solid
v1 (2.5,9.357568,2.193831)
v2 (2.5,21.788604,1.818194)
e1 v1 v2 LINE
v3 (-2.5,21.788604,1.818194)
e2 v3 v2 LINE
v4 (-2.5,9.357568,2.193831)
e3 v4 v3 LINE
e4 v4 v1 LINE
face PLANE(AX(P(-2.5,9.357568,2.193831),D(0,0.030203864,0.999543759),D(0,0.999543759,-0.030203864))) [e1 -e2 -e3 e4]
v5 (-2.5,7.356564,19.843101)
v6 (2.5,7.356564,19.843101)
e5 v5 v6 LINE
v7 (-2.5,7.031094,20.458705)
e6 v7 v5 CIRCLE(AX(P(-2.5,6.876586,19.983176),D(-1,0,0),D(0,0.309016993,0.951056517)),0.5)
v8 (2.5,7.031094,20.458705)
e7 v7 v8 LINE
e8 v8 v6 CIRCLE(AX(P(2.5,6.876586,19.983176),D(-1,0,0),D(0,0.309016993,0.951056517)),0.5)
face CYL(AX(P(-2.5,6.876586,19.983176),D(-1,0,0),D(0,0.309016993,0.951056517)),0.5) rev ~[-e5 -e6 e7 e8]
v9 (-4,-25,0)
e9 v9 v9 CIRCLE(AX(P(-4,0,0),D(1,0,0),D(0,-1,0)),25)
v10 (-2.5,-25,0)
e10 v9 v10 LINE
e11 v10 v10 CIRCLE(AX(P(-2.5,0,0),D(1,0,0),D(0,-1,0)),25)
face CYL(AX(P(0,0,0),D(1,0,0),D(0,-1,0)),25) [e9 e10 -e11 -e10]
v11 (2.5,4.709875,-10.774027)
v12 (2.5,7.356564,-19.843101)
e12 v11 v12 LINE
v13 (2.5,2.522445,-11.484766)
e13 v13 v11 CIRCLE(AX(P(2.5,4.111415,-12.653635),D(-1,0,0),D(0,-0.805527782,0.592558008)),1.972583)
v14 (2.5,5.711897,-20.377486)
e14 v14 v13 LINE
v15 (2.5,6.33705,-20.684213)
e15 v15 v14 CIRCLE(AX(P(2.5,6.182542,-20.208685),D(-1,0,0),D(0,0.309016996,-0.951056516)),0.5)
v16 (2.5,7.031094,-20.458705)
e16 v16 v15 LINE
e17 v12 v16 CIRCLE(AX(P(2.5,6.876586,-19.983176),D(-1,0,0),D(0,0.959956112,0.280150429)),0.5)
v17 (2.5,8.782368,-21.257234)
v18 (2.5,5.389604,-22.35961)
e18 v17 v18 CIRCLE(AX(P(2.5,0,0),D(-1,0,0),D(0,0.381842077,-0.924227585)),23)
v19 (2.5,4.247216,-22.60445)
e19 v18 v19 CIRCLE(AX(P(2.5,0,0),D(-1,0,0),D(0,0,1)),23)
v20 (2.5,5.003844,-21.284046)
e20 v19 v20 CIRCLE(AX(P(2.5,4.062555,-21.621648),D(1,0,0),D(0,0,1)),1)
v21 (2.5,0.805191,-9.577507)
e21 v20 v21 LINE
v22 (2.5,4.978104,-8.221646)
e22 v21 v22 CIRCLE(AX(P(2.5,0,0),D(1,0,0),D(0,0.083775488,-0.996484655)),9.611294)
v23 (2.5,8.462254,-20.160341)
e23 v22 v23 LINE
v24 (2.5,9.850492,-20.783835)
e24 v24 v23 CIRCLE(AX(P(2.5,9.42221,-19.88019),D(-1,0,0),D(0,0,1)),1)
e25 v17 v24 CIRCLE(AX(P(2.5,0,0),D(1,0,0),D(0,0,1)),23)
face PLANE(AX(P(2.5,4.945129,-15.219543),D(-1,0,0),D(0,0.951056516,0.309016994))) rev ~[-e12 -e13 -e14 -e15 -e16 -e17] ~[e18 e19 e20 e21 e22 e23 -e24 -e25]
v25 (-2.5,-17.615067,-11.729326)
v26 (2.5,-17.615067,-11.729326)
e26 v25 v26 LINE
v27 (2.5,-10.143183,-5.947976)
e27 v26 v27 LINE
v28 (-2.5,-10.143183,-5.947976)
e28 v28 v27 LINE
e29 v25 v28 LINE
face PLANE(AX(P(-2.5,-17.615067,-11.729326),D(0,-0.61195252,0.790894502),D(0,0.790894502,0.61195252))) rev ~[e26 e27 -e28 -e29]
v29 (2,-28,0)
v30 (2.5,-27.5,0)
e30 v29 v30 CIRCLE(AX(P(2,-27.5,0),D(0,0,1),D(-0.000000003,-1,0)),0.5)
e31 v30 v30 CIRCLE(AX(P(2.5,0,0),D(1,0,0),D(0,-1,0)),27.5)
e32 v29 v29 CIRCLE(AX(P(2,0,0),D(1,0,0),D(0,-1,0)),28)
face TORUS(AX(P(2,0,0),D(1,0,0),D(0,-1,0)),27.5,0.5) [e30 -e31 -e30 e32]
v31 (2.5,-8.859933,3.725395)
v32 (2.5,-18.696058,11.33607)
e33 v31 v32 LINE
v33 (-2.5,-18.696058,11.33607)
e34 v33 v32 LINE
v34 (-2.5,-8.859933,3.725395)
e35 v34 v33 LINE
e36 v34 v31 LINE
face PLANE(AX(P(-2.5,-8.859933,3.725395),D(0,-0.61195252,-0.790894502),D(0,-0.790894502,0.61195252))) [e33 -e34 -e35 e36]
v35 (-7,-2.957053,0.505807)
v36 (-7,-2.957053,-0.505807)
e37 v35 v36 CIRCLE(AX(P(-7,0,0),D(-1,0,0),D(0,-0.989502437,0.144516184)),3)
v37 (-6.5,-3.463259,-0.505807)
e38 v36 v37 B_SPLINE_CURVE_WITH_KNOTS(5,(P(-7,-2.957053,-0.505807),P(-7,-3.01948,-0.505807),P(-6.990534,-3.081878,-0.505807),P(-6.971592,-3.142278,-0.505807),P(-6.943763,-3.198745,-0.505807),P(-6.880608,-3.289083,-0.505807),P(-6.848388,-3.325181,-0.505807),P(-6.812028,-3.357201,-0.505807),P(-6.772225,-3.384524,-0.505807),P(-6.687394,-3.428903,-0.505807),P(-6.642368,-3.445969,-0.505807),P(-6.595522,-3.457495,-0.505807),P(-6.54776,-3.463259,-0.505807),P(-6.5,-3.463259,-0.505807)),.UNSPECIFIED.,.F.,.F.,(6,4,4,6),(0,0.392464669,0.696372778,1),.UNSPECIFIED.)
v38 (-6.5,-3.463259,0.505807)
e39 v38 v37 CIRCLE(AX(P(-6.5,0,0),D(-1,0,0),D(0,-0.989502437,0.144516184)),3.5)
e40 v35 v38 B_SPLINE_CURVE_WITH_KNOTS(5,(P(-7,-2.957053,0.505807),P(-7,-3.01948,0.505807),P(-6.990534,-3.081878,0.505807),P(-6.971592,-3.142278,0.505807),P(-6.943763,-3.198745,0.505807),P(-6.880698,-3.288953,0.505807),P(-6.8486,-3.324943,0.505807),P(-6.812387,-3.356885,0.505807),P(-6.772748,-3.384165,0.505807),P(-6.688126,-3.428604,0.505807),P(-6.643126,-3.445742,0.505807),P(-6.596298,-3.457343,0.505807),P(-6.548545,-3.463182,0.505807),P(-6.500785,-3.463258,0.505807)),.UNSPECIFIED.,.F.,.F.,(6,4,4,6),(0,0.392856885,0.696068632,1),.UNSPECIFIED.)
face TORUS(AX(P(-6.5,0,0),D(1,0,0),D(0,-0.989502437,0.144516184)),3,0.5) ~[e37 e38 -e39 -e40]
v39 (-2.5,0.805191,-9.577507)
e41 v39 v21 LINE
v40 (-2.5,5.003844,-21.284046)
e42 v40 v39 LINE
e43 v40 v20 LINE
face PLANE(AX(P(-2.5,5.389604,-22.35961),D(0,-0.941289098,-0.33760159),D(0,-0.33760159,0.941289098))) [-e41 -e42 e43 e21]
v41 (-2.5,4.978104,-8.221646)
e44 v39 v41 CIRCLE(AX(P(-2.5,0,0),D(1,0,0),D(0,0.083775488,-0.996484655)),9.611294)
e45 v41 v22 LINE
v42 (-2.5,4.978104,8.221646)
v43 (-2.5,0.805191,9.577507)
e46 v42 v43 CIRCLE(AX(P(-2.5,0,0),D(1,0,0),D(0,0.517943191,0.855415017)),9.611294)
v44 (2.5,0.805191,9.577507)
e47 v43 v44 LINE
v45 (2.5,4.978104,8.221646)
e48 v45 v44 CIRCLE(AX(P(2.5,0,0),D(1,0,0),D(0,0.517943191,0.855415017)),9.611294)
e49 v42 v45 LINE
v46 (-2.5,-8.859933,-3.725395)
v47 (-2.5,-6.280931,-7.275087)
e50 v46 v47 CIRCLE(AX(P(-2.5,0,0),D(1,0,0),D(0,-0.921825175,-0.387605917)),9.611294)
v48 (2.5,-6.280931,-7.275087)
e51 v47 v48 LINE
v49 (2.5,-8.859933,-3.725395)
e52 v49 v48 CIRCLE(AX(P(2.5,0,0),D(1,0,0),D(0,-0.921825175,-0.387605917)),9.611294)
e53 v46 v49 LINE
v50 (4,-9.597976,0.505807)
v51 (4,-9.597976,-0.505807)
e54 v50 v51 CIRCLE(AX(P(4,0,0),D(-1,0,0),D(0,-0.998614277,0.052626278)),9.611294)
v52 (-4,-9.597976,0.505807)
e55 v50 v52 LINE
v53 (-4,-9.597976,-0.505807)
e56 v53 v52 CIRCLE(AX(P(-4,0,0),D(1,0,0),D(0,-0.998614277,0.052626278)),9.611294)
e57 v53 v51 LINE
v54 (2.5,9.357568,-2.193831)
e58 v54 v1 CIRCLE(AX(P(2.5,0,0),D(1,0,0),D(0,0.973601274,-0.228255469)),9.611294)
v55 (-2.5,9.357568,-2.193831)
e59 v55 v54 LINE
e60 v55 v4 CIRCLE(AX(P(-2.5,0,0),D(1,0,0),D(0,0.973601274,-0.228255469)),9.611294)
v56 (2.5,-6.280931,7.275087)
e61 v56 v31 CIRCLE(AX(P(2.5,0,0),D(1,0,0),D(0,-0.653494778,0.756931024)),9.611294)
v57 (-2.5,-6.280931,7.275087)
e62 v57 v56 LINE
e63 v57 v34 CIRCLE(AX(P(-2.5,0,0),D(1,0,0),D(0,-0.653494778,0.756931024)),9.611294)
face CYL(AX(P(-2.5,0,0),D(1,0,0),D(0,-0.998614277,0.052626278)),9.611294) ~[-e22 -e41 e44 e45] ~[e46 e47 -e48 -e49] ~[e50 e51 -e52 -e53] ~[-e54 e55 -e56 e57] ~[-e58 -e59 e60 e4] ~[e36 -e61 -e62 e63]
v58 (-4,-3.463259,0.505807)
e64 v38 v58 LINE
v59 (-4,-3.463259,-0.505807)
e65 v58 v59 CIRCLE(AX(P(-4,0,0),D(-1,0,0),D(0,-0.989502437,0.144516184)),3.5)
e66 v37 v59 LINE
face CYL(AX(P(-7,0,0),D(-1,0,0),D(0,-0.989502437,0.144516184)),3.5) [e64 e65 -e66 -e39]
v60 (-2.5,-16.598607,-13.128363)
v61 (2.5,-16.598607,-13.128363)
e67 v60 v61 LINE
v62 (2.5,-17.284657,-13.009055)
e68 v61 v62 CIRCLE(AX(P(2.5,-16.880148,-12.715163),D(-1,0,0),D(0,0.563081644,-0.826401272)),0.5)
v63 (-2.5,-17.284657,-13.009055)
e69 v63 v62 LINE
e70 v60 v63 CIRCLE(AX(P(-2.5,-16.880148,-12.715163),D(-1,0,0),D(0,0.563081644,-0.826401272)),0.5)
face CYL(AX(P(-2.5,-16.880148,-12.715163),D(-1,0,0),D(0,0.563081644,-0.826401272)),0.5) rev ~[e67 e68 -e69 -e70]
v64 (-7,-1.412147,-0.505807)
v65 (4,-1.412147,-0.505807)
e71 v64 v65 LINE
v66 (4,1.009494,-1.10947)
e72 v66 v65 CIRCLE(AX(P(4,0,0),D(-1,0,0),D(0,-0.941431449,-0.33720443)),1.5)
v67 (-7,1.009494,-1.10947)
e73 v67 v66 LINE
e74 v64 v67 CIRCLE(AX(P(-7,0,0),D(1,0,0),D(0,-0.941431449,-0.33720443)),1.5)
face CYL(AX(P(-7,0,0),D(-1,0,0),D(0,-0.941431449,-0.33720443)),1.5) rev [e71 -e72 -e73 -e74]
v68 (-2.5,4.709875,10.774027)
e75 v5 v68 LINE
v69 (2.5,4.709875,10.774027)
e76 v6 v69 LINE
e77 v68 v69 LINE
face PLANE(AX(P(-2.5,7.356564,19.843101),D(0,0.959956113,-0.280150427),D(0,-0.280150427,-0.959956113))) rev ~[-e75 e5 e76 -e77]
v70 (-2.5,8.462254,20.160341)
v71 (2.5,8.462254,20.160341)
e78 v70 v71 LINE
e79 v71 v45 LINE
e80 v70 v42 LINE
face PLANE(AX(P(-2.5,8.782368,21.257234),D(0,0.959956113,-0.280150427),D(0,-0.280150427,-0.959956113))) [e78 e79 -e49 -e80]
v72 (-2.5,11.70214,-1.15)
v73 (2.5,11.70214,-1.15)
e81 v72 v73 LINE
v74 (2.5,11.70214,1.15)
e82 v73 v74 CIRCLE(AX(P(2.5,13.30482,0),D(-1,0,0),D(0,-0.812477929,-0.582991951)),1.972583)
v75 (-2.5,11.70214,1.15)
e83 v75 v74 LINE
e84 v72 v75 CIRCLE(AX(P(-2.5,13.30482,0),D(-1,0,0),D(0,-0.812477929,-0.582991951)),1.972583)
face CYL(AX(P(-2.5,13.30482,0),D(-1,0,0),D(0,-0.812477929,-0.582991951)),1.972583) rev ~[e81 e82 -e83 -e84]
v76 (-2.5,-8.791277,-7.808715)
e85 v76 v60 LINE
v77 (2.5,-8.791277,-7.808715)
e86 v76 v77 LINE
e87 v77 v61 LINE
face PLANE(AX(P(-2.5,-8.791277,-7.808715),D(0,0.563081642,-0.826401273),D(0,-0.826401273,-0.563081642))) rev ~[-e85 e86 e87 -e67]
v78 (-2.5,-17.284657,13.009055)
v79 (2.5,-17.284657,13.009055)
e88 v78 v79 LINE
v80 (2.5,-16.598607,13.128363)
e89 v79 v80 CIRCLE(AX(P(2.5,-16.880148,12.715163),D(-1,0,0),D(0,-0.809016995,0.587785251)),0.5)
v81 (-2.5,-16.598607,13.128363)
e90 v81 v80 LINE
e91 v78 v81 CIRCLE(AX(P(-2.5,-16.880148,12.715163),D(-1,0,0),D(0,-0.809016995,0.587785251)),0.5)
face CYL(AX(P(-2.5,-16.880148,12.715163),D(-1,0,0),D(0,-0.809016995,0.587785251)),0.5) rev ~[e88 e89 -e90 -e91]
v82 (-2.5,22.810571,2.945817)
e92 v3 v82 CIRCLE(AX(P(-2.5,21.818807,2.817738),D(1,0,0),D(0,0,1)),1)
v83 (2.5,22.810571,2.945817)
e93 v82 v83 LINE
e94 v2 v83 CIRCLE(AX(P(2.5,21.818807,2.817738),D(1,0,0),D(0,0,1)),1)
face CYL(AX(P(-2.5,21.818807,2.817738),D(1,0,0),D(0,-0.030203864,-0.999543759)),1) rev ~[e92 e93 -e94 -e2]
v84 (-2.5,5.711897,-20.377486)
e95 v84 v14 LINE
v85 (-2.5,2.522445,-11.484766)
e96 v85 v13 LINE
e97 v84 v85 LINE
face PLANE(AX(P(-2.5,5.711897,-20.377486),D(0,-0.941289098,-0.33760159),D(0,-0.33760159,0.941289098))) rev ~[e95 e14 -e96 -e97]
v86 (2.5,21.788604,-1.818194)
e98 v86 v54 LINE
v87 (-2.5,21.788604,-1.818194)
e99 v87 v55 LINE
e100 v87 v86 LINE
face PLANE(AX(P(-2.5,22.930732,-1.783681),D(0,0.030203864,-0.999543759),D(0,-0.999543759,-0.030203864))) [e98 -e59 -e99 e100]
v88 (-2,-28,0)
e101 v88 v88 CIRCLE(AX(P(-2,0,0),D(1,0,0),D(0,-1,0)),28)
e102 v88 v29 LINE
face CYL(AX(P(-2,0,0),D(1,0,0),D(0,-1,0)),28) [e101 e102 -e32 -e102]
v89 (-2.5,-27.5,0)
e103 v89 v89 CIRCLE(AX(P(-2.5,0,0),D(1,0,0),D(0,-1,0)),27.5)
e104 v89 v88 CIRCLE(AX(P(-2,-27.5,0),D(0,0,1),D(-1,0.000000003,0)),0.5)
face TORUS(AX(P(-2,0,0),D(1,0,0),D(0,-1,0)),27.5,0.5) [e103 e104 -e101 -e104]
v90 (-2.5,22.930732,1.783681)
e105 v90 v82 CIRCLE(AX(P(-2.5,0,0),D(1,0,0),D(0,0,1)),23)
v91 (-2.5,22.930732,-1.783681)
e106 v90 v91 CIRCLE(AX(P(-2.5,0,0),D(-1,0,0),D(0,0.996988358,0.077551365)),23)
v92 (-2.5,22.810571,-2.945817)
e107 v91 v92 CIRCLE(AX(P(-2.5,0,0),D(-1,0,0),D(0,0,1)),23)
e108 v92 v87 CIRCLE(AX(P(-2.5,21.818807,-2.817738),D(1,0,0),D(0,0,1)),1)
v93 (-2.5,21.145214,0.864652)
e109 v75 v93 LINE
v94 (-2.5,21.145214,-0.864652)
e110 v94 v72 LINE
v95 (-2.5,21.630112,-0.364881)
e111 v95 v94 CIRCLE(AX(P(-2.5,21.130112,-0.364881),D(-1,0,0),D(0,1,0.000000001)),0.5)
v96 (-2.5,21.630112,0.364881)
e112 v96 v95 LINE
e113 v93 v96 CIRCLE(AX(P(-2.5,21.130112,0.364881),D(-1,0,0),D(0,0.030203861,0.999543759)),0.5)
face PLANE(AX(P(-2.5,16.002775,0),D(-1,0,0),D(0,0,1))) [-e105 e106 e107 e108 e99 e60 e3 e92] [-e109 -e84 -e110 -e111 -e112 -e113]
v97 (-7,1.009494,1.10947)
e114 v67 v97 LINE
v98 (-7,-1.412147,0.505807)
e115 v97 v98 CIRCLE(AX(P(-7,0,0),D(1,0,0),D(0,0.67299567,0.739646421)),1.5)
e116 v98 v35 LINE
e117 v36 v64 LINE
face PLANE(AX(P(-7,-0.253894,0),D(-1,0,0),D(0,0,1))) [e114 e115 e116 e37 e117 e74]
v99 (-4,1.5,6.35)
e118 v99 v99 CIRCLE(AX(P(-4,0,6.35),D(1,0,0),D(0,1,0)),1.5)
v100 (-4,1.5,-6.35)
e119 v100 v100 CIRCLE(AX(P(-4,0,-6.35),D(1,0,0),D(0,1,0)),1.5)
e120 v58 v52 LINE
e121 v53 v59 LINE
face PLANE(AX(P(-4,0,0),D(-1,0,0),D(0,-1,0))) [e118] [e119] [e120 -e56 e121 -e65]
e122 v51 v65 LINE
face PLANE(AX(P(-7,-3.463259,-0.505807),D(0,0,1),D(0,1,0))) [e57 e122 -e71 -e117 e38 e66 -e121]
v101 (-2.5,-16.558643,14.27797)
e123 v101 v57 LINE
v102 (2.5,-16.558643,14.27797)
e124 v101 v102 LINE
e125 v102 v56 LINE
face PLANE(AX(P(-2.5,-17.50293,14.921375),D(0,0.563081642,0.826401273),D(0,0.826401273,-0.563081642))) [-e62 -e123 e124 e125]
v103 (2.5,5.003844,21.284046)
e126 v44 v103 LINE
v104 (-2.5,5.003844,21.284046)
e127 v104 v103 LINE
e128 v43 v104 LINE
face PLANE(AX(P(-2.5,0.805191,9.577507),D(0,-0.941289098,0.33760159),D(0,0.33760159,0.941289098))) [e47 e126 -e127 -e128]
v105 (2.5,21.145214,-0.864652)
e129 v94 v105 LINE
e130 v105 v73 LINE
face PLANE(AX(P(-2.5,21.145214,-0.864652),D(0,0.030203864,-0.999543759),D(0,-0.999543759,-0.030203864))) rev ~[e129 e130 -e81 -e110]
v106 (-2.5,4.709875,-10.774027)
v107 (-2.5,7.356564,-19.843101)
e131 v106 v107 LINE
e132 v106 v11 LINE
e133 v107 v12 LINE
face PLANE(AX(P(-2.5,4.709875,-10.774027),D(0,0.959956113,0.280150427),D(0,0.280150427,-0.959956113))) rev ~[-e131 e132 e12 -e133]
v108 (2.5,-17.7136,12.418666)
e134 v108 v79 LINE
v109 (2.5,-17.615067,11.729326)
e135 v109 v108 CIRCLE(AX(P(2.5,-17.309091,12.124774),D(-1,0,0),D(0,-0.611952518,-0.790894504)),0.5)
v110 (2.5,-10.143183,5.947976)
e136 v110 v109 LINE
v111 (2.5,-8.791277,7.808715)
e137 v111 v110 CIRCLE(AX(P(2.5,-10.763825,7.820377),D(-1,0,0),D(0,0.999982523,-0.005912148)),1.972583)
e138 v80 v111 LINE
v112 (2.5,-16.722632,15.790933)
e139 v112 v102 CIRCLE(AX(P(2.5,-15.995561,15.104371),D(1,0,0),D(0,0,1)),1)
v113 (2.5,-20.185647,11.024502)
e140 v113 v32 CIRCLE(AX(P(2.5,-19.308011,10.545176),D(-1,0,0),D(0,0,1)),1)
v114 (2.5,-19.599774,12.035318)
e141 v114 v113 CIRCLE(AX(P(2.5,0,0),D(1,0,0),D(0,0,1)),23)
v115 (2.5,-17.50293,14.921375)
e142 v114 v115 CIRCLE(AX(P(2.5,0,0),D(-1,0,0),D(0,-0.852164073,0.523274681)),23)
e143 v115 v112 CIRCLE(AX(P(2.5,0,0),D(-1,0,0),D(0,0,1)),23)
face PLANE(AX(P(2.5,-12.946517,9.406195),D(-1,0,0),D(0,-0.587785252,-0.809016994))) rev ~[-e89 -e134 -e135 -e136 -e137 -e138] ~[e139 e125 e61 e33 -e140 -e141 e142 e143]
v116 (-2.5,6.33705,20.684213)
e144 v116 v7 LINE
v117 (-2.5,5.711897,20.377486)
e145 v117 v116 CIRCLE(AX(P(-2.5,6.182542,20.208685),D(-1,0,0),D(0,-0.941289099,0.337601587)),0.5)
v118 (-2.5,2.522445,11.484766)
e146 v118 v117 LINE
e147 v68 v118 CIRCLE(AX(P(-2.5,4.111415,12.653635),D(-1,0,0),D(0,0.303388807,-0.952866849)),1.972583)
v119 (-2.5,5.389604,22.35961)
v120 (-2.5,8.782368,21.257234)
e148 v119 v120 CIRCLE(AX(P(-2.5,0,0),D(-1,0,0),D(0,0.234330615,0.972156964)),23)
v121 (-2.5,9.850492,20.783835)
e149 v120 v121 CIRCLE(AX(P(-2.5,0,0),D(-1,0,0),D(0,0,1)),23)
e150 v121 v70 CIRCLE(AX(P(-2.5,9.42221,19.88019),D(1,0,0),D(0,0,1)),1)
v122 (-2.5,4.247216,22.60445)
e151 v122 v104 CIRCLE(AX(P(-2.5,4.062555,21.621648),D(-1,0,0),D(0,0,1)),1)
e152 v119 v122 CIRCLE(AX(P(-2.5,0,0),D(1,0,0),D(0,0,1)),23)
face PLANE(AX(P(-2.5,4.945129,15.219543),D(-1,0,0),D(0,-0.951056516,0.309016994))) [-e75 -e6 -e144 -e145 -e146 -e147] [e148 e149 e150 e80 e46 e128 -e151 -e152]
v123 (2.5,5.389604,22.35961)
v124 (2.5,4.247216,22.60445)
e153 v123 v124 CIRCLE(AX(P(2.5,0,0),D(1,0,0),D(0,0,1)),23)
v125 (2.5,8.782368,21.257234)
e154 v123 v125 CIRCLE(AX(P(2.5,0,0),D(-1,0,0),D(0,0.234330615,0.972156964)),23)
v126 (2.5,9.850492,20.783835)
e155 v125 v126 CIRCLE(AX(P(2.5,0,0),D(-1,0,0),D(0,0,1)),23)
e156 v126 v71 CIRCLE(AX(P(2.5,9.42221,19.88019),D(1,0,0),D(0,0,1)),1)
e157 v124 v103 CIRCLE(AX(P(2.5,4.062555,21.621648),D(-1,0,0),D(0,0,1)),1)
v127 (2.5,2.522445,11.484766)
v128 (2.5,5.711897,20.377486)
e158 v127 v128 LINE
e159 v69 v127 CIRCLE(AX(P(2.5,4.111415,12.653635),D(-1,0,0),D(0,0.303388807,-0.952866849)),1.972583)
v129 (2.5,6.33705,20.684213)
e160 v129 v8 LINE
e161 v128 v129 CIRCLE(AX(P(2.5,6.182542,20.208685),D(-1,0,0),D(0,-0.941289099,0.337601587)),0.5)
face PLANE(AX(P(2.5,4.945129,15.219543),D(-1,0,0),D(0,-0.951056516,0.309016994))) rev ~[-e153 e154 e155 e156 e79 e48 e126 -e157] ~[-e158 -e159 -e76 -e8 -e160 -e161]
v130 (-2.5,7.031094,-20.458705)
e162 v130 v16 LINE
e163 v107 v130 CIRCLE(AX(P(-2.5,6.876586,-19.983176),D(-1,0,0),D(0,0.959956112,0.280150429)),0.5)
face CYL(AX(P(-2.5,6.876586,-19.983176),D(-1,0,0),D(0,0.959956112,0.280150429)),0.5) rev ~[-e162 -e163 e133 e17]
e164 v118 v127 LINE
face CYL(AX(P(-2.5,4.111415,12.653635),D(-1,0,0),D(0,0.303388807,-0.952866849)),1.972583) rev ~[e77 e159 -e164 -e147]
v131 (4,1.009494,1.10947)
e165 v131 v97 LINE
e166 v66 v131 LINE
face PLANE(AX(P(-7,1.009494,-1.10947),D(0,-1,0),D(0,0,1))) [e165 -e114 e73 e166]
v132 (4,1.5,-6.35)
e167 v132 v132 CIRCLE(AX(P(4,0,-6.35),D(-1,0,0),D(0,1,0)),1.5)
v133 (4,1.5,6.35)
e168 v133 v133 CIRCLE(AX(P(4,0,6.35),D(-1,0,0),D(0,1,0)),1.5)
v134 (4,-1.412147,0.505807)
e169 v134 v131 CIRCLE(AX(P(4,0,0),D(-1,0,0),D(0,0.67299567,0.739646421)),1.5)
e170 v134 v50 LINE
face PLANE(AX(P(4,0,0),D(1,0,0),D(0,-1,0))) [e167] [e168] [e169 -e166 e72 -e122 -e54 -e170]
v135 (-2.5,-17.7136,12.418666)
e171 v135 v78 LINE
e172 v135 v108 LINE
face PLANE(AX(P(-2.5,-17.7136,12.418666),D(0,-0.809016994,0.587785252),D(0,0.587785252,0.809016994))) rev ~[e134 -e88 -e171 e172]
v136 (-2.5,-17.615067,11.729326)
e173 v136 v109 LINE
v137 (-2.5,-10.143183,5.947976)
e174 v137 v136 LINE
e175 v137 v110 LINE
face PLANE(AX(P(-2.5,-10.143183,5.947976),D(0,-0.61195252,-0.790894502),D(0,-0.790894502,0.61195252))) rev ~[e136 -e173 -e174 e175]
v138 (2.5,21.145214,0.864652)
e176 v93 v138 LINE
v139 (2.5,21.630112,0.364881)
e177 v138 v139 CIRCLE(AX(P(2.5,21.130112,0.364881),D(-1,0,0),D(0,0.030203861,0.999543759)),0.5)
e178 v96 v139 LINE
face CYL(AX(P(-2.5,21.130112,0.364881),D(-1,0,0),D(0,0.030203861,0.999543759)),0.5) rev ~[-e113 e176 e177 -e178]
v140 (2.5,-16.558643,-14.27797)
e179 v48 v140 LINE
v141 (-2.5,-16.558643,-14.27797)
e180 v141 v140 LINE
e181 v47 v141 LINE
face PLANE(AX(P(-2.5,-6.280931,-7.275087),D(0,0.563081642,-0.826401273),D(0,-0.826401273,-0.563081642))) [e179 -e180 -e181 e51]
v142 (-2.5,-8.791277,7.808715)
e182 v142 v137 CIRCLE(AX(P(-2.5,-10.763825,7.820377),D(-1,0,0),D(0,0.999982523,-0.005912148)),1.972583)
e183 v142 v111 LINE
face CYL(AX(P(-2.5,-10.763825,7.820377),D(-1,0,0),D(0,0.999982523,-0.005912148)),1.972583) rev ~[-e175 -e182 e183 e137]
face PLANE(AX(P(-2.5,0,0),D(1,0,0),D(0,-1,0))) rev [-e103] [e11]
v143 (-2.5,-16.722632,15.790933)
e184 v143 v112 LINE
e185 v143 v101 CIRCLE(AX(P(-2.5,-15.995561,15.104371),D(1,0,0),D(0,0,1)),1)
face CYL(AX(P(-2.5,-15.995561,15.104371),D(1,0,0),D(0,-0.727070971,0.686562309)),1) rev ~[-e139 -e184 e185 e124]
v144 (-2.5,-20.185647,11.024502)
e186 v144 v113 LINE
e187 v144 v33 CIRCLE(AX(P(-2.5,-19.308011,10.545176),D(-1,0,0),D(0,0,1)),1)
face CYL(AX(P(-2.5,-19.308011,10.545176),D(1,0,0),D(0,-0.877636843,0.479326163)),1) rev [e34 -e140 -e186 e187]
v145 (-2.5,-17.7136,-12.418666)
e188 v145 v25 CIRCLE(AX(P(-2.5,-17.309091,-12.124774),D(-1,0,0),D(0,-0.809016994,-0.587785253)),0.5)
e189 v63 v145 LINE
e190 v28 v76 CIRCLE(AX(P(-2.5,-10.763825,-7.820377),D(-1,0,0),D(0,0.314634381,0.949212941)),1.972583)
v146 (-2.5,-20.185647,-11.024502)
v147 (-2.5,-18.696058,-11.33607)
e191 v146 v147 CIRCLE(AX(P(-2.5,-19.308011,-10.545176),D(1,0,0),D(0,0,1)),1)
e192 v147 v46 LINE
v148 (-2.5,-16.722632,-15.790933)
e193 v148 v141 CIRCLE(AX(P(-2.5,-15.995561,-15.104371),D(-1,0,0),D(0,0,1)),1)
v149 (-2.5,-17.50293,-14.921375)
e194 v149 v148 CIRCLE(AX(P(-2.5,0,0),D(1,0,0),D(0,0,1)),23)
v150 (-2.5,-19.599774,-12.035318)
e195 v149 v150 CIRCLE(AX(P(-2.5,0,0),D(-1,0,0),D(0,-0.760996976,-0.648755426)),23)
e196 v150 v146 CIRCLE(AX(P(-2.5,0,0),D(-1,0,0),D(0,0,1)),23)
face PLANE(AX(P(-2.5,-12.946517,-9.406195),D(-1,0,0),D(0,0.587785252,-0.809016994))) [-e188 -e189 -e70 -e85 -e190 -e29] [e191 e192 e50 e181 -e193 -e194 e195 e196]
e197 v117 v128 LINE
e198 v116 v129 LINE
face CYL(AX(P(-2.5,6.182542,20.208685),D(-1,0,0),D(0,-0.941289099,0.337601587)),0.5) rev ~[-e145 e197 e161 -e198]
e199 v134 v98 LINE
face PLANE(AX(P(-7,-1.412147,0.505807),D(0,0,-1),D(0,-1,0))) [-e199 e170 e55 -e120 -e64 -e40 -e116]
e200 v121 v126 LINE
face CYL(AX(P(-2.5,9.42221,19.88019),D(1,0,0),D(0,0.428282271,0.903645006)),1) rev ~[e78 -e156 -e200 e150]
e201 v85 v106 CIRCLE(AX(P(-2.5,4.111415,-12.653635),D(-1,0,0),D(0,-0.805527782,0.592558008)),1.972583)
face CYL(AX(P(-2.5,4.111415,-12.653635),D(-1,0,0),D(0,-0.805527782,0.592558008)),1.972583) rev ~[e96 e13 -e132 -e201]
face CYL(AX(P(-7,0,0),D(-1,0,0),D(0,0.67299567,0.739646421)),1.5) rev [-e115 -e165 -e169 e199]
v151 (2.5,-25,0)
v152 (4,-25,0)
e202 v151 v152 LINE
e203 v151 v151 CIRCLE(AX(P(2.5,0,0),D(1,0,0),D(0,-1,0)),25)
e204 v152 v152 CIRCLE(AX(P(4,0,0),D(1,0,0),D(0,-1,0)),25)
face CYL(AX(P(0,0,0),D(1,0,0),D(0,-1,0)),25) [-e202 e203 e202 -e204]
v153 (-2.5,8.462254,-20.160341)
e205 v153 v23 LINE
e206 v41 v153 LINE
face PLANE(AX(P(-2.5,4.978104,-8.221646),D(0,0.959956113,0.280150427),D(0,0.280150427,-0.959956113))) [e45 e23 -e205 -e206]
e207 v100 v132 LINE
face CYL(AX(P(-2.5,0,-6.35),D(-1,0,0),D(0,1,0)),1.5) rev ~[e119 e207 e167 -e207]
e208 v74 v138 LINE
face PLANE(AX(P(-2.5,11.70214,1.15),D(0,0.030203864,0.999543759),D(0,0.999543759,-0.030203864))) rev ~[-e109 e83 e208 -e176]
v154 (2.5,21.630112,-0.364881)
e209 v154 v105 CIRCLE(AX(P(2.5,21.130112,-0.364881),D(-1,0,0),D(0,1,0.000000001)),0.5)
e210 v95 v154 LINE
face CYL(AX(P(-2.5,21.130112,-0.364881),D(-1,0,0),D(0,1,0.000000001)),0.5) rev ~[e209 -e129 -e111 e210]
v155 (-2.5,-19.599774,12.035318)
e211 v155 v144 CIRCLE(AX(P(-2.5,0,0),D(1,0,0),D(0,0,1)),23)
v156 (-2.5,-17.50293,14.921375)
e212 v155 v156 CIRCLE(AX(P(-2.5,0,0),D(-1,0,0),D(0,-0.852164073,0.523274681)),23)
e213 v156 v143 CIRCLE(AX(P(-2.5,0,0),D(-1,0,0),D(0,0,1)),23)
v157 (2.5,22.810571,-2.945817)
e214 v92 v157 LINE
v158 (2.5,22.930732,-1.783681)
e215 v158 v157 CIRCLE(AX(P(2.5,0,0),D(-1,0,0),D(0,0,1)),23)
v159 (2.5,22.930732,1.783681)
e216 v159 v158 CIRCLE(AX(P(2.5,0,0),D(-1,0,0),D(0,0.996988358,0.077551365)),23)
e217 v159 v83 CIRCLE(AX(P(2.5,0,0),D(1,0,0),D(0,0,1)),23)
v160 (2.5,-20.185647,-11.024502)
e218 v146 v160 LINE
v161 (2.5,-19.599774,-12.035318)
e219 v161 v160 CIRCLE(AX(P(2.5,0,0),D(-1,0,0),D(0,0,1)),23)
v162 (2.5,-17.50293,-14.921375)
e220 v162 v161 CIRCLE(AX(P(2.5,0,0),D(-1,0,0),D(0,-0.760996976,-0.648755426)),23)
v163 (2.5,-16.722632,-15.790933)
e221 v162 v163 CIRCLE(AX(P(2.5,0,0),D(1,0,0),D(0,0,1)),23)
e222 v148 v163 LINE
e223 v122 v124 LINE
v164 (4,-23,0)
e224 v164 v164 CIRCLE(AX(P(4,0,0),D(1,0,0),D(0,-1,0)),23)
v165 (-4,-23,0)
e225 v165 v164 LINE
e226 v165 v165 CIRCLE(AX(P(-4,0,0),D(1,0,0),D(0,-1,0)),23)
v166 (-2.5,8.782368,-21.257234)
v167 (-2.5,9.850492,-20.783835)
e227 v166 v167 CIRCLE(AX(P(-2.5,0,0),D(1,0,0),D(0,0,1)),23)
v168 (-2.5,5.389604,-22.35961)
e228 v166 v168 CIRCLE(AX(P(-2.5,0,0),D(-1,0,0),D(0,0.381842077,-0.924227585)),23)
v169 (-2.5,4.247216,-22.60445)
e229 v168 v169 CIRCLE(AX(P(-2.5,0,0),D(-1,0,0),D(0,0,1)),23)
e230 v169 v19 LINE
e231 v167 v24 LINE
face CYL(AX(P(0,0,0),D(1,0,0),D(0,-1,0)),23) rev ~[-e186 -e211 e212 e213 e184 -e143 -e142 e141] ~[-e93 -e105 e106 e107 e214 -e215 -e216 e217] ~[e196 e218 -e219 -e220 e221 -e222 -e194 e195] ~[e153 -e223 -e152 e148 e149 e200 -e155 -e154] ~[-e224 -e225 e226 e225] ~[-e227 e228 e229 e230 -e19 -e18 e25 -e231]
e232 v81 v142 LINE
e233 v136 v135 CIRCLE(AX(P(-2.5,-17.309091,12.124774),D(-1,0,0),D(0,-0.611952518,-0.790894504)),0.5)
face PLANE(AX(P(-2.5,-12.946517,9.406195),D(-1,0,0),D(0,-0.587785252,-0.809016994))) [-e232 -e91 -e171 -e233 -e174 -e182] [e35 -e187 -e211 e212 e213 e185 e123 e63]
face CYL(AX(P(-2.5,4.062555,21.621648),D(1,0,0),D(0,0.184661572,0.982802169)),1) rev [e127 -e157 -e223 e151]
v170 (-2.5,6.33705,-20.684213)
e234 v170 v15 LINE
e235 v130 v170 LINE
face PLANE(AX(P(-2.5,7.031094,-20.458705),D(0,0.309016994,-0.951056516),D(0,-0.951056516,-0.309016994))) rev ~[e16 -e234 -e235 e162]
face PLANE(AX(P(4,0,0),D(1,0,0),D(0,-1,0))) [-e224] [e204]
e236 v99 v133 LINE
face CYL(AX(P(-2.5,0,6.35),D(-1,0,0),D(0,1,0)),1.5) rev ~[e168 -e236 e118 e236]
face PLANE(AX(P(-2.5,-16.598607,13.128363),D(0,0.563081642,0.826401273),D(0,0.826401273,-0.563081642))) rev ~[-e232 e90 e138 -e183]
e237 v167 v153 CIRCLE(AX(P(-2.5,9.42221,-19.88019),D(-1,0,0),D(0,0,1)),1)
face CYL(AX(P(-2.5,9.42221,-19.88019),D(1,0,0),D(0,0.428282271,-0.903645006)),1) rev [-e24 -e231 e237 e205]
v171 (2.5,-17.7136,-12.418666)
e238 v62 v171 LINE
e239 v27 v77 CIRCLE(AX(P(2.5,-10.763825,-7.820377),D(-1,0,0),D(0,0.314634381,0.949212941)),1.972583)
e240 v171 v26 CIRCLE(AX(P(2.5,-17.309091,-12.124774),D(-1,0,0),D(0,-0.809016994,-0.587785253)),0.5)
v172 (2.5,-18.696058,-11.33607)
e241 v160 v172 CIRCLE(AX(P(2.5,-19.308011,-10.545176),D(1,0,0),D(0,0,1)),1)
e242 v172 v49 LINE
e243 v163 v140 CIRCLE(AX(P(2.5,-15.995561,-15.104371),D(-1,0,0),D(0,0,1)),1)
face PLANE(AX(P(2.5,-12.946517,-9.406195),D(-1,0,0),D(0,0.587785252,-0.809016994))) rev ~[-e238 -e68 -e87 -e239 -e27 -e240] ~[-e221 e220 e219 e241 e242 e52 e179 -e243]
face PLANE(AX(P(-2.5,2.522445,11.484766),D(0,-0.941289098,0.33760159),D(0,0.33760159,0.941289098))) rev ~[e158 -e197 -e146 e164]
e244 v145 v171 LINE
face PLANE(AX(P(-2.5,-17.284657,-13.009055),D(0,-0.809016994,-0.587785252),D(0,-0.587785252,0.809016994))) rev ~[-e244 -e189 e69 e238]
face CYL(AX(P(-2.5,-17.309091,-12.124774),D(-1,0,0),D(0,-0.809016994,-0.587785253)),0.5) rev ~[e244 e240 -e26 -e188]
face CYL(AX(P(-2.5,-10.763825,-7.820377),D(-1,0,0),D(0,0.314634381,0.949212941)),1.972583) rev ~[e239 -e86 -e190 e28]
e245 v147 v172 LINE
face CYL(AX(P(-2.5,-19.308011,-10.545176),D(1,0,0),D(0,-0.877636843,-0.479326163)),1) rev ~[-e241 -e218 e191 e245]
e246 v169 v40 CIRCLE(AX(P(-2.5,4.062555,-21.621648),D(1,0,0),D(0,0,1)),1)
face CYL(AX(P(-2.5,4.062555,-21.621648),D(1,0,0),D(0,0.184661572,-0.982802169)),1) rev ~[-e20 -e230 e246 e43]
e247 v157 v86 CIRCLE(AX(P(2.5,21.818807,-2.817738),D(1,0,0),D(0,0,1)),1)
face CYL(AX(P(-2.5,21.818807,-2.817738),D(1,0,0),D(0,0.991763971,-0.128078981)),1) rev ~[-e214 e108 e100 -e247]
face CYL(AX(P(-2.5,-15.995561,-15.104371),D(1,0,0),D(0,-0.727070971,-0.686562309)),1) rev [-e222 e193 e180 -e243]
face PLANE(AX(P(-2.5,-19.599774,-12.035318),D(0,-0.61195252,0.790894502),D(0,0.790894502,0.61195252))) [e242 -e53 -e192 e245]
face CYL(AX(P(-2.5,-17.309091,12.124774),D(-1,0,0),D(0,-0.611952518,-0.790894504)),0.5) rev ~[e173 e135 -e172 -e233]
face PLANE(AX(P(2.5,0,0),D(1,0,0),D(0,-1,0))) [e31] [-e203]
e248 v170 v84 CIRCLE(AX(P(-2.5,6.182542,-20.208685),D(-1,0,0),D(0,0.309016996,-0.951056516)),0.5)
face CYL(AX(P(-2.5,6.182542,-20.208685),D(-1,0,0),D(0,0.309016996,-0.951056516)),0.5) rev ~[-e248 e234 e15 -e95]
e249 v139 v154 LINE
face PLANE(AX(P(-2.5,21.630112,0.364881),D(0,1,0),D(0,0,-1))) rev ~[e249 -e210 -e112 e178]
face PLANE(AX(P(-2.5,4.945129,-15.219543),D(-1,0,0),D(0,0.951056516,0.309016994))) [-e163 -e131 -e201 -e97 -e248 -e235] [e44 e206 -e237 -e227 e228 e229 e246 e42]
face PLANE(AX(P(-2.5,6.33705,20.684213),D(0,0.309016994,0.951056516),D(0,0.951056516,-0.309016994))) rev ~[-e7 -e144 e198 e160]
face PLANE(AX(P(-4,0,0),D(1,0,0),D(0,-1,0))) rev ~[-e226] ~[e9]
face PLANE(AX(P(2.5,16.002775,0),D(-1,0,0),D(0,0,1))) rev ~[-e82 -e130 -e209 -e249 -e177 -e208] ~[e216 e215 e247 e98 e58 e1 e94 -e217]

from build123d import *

# Parameters (mm, degrees)
SKETCH2_W                       = 8
SKETCH2_H                       = 2
BOSS_EXTRUDE1_REACH             = 42.128
SKETCH3_R                       = 1.5
BOSS_EXTRUDE1_DIRECTION_2_REACH = 42.128
BOSS_EXTRUDE2_DEPTH             = 5
FILLET1_R                       = 1
FILLET2_R                       = 1
CIRPATTERN1_COUNT               = 5
FILLET1_OF_CIRPATTERN1_R        = 1
FILLET2_OF_CIRPATTERN1_R        = 1
BOSS_EXTRUDE3_START             = 3
BOSS_EXTRUDE3_DEPTH             = 3
FILLET3_R                       = 0.5


with BuildPart() as part:
    # Sketch2 → Revolve1 (revolve)
    with BuildSketch(Plane.XY):
        with Locations((0, -24)):
            Rectangle(SKETCH2_W, SKETCH2_H)
        with BuildLine():
            Line((2.5, -25), (-2.5, -25))
            Line((-2.5, -25), (-2.5, -27.5))
            ThreePointArc((-2.5, -27.5), (-2.353553391, -27.853553391), (-2, -28))
            Line((-2, -28), (2, -28))
            ThreePointArc((2, -28), (2.353553391, -27.853553391), (2.5, -27.5))
            Line((2.5, -27.5), (2.5, -25))
        make_face()
    revolve(axis=Axis((-65.527863449, 0, 0), (1, 0, 0)))


with BuildPart() as body_2:

    # Boss-Extrude1: up to this face of the body (flat: up to its plane)
    boss_extrude1_end = Plane(part.part.faces().sort_by_distance((4, 24.292893219, 0))[0])
    # Sketch3 → Boss-Extrude1 (new, up to the picked face)
    with BuildSketch(Plane.ZY.offset(2.5), mode=Mode.PRIVATE) as boss_extrude1_sk1:
        with BuildLine():
            Line((-1.109469632, 1.009493505), (1.109469632, 1.009493505))
            ThreePointArc((1.109469632, 1.009493505), (1.455460496, -0.362815028), (0.505806645, -1.412147173))
            Line((0.505806645, -1.412147173), (0.505806645, -9.597975753))
            ThreePointArc((0.505806645, -9.597975753), (0, 9.611294342), (-0.505806645, -9.597975753))
            Line((-0.505806645, -9.597975753), (-0.505806645, -1.412147173))
            ThreePointArc((-0.505806645, -1.412147173), (-1.455460496, -0.362815028), (-1.109469632, 1.009493505))
        make_face()
        with Locations(Location((6.35, 0, 0), (0, 0, 90))):
            Circle(SKETCH3_R, mode=Mode.SUBTRACT)
        with Locations(Location((-6.35, 0, 0), (0, 0, 90))):
            Circle(SKETCH3_R, mode=Mode.SUBTRACT)
    boss_extrude1_tool1 = split(extrude(boss_extrude1_sk1.sketch, amount=-BOSS_EXTRUDE1_REACH, mode=Mode.PRIVATE), bisect_by=boss_extrude1_end, keep=Keep.BOTH, mode=Mode.PRIVATE)
    add(boss_extrude1_tool1.solids().sort_by(Axis((-2.5, 1.281248, 0), (1, 0, 0)))[0])


    # Boss-Extrude1 direction 2: up to this face of the body (flat: up to its plane)
    boss_extrude1_direction_2_end = Plane(part.part.faces().sort_by_distance((-4, 23.707106781, 0))[0])
    # Sketch3 → Boss-Extrude1 direction 2 (add, up to the picked face)
    with BuildSketch(Plane.ZY.offset(2.5), mode=Mode.PRIVATE) as boss_extrude1_direction_2_sk1:
        with BuildLine():
            Line((-1.109469632, 1.009493505), (1.109469632, 1.009493505))
            ThreePointArc((1.109469632, 1.009493505), (1.455460496, -0.362815028), (0.505806645, -1.412147173))
            Line((0.505806645, -1.412147173), (0.505806645, -9.597975753))
            ThreePointArc((0.505806645, -9.597975753), (0, 9.611294342), (-0.505806645, -9.597975753))
            Line((-0.505806645, -9.597975753), (-0.505806645, -1.412147173))
            ThreePointArc((-0.505806645, -1.412147173), (-1.455460496, -0.362815028), (-1.109469632, 1.009493505))
        make_face()
        with Locations(Location((6.35, 0, 0), (0, 0, 90))):
            Circle(SKETCH3_R, mode=Mode.SUBTRACT)
        with Locations(Location((-6.35, 0, 0), (0, 0, 90))):
            Circle(SKETCH3_R, mode=Mode.SUBTRACT)
    boss_extrude1_direction_2_tool1 = split(extrude(boss_extrude1_direction_2_sk1.sketch, amount=BOSS_EXTRUDE1_DIRECTION_2_REACH, mode=Mode.PRIVATE), bisect_by=boss_extrude1_direction_2_end, keep=Keep.BOTH, mode=Mode.PRIVATE)
    add(boss_extrude1_direction_2_tool1.solids().sort_by(Axis((-2.5, 1.281248, 0), (-1, 0, 0)))[0])


with BuildPart() as part_1:
    add(part.part)

    add(body_2.part)  # Boss-Extrude2 merges body 2
    # Sketch4 → Boss-Extrude2 (add)
    with BuildSketch(Plane.ZY.offset(2.5)):
        with BuildLine():
            Line((2.193830501, 9.357568416), (1.783681385, 22.930732232))
            ThreePointArc((1.783681385, 22.930732232), (0, 23), (-1.783681385, 22.930732232))
            Line((-1.783681385, 22.930732232), (-2.193830501, 9.357568416))
            ThreePointArc((-2.193830501, 9.357568416), (0, 9.611294342), (2.193830501, 9.357568416))
        make_face()
        with BuildLine():
            ThreePointArc((-1.15, 11.702139555), (0, 11.332236709), (1.15, 11.702139555))
            Line((1.15, 11.702139555), (0.86465248, 21.14521399))
            ThreePointArc((0.86465248, 21.14521399), (0.713053714, 21.488965069), (0.364880601, 21.630112058))
            Line((0.364880601, 21.630112058), (-0.364880601, 21.630112058))
            ThreePointArc((-0.364880601, 21.630112058), (-0.713053714, 21.488965069), (-0.86465248, 21.14521399))
            Line((-0.86465248, 21.14521399), (-1.15, 11.702139555))
        make_face(mode=Mode.SUBTRACT)
    boss_extrude2 = extrude(amount=-BOSS_EXTRUDE2_DEPTH)

    # Fillet1
    fillet1_edges = [part_1.edges().sort_by_distance(p)[0] for p in [
        (0, 22.930732232, 1.783681385),
    ]]
    fillet(fillet1_edges, radius=FILLET1_R)

    # Fillet2
    fillet2_edges = [part_1.edges().sort_by_distance(p)[0] for p in [
        (0, 22.930732232, -1.783681385),
    ]]
    fillet(fillet2_edges, radius=FILLET2_R)

    # CirPattern1: Boss-Extrude2 ×5 about axis
    cirpattern1_axis = Axis((0, 0, 0), (1, 0, 0))
    for i in range(1, CIRPATTERN1_COUNT):
        add(boss_extrude2.rotate(cirpattern1_axis, i * 360 / CIRPATTERN1_COUNT))

    # Fillet1 of CirPattern1
    fillet1_of_cirpattern1_edges = [part_1.edges().sort_by_distance(p)[0] for p in [
        (0, 5.389604149, 22.359610174),
        (0, -19.599773683, 12.035317677),
        (0, -17.502930456, -14.921374784),
        (0, 8.782367758, -21.257234453),
    ]]
    fillet(fillet1_of_cirpattern1_edges, radius=FILLET1_OF_CIRPATTERN1_R)

    # Fillet2 of CirPattern1
    fillet2_of_cirpattern1_edges = [part_1.edges().sort_by_distance(p)[0] for p in [
        (0, 8.782367758, 21.257234453),
        (0, -17.502930456, 14.921374784),
        (0, -19.599773683, -12.035317677),
        (0, 5.389604149, -22.359610174),
    ]]
    fillet(fillet2_of_cirpattern1_edges, radius=FILLET2_OF_CIRPATTERN1_R)

    # Sketch5 → Boss-Extrude3 (add)
    with BuildSketch(Plane.ZY.offset(4).offset(BOSS_EXTRUDE3_START)):
        with BuildLine():
            Line((-1.109469632, 1.009493505), (1.109469632, 1.009493505))
            ThreePointArc((1.109469632, 1.009493505), (1.455460496, -0.362815028), (0.505806645, -1.412147173))
            Line((0.505806645, -1.412147173), (0.505806645, -3.463258529))
            ThreePointArc((0.505806645, -3.463258529), (0, 3.5), (-0.505806645, -3.463258529))
            Line((-0.505806645, -3.463258529), (-0.505806645, -1.412147173))
            ThreePointArc((-0.505806645, -1.412147173), (-1.455460496, -0.362815028), (-1.109469632, 1.009493505))
        make_face()
    extrude(amount=-BOSS_EXTRUDE3_DEPTH)

    # Fillet3
    fillet3_edges = [part_1.edges().sort_by_distance(p)[0] for p in [
        (-7, 3.5, 0),
    ]]
    fillet(fillet3_edges, radius=FILLET3_R)


solid = part_1.part
